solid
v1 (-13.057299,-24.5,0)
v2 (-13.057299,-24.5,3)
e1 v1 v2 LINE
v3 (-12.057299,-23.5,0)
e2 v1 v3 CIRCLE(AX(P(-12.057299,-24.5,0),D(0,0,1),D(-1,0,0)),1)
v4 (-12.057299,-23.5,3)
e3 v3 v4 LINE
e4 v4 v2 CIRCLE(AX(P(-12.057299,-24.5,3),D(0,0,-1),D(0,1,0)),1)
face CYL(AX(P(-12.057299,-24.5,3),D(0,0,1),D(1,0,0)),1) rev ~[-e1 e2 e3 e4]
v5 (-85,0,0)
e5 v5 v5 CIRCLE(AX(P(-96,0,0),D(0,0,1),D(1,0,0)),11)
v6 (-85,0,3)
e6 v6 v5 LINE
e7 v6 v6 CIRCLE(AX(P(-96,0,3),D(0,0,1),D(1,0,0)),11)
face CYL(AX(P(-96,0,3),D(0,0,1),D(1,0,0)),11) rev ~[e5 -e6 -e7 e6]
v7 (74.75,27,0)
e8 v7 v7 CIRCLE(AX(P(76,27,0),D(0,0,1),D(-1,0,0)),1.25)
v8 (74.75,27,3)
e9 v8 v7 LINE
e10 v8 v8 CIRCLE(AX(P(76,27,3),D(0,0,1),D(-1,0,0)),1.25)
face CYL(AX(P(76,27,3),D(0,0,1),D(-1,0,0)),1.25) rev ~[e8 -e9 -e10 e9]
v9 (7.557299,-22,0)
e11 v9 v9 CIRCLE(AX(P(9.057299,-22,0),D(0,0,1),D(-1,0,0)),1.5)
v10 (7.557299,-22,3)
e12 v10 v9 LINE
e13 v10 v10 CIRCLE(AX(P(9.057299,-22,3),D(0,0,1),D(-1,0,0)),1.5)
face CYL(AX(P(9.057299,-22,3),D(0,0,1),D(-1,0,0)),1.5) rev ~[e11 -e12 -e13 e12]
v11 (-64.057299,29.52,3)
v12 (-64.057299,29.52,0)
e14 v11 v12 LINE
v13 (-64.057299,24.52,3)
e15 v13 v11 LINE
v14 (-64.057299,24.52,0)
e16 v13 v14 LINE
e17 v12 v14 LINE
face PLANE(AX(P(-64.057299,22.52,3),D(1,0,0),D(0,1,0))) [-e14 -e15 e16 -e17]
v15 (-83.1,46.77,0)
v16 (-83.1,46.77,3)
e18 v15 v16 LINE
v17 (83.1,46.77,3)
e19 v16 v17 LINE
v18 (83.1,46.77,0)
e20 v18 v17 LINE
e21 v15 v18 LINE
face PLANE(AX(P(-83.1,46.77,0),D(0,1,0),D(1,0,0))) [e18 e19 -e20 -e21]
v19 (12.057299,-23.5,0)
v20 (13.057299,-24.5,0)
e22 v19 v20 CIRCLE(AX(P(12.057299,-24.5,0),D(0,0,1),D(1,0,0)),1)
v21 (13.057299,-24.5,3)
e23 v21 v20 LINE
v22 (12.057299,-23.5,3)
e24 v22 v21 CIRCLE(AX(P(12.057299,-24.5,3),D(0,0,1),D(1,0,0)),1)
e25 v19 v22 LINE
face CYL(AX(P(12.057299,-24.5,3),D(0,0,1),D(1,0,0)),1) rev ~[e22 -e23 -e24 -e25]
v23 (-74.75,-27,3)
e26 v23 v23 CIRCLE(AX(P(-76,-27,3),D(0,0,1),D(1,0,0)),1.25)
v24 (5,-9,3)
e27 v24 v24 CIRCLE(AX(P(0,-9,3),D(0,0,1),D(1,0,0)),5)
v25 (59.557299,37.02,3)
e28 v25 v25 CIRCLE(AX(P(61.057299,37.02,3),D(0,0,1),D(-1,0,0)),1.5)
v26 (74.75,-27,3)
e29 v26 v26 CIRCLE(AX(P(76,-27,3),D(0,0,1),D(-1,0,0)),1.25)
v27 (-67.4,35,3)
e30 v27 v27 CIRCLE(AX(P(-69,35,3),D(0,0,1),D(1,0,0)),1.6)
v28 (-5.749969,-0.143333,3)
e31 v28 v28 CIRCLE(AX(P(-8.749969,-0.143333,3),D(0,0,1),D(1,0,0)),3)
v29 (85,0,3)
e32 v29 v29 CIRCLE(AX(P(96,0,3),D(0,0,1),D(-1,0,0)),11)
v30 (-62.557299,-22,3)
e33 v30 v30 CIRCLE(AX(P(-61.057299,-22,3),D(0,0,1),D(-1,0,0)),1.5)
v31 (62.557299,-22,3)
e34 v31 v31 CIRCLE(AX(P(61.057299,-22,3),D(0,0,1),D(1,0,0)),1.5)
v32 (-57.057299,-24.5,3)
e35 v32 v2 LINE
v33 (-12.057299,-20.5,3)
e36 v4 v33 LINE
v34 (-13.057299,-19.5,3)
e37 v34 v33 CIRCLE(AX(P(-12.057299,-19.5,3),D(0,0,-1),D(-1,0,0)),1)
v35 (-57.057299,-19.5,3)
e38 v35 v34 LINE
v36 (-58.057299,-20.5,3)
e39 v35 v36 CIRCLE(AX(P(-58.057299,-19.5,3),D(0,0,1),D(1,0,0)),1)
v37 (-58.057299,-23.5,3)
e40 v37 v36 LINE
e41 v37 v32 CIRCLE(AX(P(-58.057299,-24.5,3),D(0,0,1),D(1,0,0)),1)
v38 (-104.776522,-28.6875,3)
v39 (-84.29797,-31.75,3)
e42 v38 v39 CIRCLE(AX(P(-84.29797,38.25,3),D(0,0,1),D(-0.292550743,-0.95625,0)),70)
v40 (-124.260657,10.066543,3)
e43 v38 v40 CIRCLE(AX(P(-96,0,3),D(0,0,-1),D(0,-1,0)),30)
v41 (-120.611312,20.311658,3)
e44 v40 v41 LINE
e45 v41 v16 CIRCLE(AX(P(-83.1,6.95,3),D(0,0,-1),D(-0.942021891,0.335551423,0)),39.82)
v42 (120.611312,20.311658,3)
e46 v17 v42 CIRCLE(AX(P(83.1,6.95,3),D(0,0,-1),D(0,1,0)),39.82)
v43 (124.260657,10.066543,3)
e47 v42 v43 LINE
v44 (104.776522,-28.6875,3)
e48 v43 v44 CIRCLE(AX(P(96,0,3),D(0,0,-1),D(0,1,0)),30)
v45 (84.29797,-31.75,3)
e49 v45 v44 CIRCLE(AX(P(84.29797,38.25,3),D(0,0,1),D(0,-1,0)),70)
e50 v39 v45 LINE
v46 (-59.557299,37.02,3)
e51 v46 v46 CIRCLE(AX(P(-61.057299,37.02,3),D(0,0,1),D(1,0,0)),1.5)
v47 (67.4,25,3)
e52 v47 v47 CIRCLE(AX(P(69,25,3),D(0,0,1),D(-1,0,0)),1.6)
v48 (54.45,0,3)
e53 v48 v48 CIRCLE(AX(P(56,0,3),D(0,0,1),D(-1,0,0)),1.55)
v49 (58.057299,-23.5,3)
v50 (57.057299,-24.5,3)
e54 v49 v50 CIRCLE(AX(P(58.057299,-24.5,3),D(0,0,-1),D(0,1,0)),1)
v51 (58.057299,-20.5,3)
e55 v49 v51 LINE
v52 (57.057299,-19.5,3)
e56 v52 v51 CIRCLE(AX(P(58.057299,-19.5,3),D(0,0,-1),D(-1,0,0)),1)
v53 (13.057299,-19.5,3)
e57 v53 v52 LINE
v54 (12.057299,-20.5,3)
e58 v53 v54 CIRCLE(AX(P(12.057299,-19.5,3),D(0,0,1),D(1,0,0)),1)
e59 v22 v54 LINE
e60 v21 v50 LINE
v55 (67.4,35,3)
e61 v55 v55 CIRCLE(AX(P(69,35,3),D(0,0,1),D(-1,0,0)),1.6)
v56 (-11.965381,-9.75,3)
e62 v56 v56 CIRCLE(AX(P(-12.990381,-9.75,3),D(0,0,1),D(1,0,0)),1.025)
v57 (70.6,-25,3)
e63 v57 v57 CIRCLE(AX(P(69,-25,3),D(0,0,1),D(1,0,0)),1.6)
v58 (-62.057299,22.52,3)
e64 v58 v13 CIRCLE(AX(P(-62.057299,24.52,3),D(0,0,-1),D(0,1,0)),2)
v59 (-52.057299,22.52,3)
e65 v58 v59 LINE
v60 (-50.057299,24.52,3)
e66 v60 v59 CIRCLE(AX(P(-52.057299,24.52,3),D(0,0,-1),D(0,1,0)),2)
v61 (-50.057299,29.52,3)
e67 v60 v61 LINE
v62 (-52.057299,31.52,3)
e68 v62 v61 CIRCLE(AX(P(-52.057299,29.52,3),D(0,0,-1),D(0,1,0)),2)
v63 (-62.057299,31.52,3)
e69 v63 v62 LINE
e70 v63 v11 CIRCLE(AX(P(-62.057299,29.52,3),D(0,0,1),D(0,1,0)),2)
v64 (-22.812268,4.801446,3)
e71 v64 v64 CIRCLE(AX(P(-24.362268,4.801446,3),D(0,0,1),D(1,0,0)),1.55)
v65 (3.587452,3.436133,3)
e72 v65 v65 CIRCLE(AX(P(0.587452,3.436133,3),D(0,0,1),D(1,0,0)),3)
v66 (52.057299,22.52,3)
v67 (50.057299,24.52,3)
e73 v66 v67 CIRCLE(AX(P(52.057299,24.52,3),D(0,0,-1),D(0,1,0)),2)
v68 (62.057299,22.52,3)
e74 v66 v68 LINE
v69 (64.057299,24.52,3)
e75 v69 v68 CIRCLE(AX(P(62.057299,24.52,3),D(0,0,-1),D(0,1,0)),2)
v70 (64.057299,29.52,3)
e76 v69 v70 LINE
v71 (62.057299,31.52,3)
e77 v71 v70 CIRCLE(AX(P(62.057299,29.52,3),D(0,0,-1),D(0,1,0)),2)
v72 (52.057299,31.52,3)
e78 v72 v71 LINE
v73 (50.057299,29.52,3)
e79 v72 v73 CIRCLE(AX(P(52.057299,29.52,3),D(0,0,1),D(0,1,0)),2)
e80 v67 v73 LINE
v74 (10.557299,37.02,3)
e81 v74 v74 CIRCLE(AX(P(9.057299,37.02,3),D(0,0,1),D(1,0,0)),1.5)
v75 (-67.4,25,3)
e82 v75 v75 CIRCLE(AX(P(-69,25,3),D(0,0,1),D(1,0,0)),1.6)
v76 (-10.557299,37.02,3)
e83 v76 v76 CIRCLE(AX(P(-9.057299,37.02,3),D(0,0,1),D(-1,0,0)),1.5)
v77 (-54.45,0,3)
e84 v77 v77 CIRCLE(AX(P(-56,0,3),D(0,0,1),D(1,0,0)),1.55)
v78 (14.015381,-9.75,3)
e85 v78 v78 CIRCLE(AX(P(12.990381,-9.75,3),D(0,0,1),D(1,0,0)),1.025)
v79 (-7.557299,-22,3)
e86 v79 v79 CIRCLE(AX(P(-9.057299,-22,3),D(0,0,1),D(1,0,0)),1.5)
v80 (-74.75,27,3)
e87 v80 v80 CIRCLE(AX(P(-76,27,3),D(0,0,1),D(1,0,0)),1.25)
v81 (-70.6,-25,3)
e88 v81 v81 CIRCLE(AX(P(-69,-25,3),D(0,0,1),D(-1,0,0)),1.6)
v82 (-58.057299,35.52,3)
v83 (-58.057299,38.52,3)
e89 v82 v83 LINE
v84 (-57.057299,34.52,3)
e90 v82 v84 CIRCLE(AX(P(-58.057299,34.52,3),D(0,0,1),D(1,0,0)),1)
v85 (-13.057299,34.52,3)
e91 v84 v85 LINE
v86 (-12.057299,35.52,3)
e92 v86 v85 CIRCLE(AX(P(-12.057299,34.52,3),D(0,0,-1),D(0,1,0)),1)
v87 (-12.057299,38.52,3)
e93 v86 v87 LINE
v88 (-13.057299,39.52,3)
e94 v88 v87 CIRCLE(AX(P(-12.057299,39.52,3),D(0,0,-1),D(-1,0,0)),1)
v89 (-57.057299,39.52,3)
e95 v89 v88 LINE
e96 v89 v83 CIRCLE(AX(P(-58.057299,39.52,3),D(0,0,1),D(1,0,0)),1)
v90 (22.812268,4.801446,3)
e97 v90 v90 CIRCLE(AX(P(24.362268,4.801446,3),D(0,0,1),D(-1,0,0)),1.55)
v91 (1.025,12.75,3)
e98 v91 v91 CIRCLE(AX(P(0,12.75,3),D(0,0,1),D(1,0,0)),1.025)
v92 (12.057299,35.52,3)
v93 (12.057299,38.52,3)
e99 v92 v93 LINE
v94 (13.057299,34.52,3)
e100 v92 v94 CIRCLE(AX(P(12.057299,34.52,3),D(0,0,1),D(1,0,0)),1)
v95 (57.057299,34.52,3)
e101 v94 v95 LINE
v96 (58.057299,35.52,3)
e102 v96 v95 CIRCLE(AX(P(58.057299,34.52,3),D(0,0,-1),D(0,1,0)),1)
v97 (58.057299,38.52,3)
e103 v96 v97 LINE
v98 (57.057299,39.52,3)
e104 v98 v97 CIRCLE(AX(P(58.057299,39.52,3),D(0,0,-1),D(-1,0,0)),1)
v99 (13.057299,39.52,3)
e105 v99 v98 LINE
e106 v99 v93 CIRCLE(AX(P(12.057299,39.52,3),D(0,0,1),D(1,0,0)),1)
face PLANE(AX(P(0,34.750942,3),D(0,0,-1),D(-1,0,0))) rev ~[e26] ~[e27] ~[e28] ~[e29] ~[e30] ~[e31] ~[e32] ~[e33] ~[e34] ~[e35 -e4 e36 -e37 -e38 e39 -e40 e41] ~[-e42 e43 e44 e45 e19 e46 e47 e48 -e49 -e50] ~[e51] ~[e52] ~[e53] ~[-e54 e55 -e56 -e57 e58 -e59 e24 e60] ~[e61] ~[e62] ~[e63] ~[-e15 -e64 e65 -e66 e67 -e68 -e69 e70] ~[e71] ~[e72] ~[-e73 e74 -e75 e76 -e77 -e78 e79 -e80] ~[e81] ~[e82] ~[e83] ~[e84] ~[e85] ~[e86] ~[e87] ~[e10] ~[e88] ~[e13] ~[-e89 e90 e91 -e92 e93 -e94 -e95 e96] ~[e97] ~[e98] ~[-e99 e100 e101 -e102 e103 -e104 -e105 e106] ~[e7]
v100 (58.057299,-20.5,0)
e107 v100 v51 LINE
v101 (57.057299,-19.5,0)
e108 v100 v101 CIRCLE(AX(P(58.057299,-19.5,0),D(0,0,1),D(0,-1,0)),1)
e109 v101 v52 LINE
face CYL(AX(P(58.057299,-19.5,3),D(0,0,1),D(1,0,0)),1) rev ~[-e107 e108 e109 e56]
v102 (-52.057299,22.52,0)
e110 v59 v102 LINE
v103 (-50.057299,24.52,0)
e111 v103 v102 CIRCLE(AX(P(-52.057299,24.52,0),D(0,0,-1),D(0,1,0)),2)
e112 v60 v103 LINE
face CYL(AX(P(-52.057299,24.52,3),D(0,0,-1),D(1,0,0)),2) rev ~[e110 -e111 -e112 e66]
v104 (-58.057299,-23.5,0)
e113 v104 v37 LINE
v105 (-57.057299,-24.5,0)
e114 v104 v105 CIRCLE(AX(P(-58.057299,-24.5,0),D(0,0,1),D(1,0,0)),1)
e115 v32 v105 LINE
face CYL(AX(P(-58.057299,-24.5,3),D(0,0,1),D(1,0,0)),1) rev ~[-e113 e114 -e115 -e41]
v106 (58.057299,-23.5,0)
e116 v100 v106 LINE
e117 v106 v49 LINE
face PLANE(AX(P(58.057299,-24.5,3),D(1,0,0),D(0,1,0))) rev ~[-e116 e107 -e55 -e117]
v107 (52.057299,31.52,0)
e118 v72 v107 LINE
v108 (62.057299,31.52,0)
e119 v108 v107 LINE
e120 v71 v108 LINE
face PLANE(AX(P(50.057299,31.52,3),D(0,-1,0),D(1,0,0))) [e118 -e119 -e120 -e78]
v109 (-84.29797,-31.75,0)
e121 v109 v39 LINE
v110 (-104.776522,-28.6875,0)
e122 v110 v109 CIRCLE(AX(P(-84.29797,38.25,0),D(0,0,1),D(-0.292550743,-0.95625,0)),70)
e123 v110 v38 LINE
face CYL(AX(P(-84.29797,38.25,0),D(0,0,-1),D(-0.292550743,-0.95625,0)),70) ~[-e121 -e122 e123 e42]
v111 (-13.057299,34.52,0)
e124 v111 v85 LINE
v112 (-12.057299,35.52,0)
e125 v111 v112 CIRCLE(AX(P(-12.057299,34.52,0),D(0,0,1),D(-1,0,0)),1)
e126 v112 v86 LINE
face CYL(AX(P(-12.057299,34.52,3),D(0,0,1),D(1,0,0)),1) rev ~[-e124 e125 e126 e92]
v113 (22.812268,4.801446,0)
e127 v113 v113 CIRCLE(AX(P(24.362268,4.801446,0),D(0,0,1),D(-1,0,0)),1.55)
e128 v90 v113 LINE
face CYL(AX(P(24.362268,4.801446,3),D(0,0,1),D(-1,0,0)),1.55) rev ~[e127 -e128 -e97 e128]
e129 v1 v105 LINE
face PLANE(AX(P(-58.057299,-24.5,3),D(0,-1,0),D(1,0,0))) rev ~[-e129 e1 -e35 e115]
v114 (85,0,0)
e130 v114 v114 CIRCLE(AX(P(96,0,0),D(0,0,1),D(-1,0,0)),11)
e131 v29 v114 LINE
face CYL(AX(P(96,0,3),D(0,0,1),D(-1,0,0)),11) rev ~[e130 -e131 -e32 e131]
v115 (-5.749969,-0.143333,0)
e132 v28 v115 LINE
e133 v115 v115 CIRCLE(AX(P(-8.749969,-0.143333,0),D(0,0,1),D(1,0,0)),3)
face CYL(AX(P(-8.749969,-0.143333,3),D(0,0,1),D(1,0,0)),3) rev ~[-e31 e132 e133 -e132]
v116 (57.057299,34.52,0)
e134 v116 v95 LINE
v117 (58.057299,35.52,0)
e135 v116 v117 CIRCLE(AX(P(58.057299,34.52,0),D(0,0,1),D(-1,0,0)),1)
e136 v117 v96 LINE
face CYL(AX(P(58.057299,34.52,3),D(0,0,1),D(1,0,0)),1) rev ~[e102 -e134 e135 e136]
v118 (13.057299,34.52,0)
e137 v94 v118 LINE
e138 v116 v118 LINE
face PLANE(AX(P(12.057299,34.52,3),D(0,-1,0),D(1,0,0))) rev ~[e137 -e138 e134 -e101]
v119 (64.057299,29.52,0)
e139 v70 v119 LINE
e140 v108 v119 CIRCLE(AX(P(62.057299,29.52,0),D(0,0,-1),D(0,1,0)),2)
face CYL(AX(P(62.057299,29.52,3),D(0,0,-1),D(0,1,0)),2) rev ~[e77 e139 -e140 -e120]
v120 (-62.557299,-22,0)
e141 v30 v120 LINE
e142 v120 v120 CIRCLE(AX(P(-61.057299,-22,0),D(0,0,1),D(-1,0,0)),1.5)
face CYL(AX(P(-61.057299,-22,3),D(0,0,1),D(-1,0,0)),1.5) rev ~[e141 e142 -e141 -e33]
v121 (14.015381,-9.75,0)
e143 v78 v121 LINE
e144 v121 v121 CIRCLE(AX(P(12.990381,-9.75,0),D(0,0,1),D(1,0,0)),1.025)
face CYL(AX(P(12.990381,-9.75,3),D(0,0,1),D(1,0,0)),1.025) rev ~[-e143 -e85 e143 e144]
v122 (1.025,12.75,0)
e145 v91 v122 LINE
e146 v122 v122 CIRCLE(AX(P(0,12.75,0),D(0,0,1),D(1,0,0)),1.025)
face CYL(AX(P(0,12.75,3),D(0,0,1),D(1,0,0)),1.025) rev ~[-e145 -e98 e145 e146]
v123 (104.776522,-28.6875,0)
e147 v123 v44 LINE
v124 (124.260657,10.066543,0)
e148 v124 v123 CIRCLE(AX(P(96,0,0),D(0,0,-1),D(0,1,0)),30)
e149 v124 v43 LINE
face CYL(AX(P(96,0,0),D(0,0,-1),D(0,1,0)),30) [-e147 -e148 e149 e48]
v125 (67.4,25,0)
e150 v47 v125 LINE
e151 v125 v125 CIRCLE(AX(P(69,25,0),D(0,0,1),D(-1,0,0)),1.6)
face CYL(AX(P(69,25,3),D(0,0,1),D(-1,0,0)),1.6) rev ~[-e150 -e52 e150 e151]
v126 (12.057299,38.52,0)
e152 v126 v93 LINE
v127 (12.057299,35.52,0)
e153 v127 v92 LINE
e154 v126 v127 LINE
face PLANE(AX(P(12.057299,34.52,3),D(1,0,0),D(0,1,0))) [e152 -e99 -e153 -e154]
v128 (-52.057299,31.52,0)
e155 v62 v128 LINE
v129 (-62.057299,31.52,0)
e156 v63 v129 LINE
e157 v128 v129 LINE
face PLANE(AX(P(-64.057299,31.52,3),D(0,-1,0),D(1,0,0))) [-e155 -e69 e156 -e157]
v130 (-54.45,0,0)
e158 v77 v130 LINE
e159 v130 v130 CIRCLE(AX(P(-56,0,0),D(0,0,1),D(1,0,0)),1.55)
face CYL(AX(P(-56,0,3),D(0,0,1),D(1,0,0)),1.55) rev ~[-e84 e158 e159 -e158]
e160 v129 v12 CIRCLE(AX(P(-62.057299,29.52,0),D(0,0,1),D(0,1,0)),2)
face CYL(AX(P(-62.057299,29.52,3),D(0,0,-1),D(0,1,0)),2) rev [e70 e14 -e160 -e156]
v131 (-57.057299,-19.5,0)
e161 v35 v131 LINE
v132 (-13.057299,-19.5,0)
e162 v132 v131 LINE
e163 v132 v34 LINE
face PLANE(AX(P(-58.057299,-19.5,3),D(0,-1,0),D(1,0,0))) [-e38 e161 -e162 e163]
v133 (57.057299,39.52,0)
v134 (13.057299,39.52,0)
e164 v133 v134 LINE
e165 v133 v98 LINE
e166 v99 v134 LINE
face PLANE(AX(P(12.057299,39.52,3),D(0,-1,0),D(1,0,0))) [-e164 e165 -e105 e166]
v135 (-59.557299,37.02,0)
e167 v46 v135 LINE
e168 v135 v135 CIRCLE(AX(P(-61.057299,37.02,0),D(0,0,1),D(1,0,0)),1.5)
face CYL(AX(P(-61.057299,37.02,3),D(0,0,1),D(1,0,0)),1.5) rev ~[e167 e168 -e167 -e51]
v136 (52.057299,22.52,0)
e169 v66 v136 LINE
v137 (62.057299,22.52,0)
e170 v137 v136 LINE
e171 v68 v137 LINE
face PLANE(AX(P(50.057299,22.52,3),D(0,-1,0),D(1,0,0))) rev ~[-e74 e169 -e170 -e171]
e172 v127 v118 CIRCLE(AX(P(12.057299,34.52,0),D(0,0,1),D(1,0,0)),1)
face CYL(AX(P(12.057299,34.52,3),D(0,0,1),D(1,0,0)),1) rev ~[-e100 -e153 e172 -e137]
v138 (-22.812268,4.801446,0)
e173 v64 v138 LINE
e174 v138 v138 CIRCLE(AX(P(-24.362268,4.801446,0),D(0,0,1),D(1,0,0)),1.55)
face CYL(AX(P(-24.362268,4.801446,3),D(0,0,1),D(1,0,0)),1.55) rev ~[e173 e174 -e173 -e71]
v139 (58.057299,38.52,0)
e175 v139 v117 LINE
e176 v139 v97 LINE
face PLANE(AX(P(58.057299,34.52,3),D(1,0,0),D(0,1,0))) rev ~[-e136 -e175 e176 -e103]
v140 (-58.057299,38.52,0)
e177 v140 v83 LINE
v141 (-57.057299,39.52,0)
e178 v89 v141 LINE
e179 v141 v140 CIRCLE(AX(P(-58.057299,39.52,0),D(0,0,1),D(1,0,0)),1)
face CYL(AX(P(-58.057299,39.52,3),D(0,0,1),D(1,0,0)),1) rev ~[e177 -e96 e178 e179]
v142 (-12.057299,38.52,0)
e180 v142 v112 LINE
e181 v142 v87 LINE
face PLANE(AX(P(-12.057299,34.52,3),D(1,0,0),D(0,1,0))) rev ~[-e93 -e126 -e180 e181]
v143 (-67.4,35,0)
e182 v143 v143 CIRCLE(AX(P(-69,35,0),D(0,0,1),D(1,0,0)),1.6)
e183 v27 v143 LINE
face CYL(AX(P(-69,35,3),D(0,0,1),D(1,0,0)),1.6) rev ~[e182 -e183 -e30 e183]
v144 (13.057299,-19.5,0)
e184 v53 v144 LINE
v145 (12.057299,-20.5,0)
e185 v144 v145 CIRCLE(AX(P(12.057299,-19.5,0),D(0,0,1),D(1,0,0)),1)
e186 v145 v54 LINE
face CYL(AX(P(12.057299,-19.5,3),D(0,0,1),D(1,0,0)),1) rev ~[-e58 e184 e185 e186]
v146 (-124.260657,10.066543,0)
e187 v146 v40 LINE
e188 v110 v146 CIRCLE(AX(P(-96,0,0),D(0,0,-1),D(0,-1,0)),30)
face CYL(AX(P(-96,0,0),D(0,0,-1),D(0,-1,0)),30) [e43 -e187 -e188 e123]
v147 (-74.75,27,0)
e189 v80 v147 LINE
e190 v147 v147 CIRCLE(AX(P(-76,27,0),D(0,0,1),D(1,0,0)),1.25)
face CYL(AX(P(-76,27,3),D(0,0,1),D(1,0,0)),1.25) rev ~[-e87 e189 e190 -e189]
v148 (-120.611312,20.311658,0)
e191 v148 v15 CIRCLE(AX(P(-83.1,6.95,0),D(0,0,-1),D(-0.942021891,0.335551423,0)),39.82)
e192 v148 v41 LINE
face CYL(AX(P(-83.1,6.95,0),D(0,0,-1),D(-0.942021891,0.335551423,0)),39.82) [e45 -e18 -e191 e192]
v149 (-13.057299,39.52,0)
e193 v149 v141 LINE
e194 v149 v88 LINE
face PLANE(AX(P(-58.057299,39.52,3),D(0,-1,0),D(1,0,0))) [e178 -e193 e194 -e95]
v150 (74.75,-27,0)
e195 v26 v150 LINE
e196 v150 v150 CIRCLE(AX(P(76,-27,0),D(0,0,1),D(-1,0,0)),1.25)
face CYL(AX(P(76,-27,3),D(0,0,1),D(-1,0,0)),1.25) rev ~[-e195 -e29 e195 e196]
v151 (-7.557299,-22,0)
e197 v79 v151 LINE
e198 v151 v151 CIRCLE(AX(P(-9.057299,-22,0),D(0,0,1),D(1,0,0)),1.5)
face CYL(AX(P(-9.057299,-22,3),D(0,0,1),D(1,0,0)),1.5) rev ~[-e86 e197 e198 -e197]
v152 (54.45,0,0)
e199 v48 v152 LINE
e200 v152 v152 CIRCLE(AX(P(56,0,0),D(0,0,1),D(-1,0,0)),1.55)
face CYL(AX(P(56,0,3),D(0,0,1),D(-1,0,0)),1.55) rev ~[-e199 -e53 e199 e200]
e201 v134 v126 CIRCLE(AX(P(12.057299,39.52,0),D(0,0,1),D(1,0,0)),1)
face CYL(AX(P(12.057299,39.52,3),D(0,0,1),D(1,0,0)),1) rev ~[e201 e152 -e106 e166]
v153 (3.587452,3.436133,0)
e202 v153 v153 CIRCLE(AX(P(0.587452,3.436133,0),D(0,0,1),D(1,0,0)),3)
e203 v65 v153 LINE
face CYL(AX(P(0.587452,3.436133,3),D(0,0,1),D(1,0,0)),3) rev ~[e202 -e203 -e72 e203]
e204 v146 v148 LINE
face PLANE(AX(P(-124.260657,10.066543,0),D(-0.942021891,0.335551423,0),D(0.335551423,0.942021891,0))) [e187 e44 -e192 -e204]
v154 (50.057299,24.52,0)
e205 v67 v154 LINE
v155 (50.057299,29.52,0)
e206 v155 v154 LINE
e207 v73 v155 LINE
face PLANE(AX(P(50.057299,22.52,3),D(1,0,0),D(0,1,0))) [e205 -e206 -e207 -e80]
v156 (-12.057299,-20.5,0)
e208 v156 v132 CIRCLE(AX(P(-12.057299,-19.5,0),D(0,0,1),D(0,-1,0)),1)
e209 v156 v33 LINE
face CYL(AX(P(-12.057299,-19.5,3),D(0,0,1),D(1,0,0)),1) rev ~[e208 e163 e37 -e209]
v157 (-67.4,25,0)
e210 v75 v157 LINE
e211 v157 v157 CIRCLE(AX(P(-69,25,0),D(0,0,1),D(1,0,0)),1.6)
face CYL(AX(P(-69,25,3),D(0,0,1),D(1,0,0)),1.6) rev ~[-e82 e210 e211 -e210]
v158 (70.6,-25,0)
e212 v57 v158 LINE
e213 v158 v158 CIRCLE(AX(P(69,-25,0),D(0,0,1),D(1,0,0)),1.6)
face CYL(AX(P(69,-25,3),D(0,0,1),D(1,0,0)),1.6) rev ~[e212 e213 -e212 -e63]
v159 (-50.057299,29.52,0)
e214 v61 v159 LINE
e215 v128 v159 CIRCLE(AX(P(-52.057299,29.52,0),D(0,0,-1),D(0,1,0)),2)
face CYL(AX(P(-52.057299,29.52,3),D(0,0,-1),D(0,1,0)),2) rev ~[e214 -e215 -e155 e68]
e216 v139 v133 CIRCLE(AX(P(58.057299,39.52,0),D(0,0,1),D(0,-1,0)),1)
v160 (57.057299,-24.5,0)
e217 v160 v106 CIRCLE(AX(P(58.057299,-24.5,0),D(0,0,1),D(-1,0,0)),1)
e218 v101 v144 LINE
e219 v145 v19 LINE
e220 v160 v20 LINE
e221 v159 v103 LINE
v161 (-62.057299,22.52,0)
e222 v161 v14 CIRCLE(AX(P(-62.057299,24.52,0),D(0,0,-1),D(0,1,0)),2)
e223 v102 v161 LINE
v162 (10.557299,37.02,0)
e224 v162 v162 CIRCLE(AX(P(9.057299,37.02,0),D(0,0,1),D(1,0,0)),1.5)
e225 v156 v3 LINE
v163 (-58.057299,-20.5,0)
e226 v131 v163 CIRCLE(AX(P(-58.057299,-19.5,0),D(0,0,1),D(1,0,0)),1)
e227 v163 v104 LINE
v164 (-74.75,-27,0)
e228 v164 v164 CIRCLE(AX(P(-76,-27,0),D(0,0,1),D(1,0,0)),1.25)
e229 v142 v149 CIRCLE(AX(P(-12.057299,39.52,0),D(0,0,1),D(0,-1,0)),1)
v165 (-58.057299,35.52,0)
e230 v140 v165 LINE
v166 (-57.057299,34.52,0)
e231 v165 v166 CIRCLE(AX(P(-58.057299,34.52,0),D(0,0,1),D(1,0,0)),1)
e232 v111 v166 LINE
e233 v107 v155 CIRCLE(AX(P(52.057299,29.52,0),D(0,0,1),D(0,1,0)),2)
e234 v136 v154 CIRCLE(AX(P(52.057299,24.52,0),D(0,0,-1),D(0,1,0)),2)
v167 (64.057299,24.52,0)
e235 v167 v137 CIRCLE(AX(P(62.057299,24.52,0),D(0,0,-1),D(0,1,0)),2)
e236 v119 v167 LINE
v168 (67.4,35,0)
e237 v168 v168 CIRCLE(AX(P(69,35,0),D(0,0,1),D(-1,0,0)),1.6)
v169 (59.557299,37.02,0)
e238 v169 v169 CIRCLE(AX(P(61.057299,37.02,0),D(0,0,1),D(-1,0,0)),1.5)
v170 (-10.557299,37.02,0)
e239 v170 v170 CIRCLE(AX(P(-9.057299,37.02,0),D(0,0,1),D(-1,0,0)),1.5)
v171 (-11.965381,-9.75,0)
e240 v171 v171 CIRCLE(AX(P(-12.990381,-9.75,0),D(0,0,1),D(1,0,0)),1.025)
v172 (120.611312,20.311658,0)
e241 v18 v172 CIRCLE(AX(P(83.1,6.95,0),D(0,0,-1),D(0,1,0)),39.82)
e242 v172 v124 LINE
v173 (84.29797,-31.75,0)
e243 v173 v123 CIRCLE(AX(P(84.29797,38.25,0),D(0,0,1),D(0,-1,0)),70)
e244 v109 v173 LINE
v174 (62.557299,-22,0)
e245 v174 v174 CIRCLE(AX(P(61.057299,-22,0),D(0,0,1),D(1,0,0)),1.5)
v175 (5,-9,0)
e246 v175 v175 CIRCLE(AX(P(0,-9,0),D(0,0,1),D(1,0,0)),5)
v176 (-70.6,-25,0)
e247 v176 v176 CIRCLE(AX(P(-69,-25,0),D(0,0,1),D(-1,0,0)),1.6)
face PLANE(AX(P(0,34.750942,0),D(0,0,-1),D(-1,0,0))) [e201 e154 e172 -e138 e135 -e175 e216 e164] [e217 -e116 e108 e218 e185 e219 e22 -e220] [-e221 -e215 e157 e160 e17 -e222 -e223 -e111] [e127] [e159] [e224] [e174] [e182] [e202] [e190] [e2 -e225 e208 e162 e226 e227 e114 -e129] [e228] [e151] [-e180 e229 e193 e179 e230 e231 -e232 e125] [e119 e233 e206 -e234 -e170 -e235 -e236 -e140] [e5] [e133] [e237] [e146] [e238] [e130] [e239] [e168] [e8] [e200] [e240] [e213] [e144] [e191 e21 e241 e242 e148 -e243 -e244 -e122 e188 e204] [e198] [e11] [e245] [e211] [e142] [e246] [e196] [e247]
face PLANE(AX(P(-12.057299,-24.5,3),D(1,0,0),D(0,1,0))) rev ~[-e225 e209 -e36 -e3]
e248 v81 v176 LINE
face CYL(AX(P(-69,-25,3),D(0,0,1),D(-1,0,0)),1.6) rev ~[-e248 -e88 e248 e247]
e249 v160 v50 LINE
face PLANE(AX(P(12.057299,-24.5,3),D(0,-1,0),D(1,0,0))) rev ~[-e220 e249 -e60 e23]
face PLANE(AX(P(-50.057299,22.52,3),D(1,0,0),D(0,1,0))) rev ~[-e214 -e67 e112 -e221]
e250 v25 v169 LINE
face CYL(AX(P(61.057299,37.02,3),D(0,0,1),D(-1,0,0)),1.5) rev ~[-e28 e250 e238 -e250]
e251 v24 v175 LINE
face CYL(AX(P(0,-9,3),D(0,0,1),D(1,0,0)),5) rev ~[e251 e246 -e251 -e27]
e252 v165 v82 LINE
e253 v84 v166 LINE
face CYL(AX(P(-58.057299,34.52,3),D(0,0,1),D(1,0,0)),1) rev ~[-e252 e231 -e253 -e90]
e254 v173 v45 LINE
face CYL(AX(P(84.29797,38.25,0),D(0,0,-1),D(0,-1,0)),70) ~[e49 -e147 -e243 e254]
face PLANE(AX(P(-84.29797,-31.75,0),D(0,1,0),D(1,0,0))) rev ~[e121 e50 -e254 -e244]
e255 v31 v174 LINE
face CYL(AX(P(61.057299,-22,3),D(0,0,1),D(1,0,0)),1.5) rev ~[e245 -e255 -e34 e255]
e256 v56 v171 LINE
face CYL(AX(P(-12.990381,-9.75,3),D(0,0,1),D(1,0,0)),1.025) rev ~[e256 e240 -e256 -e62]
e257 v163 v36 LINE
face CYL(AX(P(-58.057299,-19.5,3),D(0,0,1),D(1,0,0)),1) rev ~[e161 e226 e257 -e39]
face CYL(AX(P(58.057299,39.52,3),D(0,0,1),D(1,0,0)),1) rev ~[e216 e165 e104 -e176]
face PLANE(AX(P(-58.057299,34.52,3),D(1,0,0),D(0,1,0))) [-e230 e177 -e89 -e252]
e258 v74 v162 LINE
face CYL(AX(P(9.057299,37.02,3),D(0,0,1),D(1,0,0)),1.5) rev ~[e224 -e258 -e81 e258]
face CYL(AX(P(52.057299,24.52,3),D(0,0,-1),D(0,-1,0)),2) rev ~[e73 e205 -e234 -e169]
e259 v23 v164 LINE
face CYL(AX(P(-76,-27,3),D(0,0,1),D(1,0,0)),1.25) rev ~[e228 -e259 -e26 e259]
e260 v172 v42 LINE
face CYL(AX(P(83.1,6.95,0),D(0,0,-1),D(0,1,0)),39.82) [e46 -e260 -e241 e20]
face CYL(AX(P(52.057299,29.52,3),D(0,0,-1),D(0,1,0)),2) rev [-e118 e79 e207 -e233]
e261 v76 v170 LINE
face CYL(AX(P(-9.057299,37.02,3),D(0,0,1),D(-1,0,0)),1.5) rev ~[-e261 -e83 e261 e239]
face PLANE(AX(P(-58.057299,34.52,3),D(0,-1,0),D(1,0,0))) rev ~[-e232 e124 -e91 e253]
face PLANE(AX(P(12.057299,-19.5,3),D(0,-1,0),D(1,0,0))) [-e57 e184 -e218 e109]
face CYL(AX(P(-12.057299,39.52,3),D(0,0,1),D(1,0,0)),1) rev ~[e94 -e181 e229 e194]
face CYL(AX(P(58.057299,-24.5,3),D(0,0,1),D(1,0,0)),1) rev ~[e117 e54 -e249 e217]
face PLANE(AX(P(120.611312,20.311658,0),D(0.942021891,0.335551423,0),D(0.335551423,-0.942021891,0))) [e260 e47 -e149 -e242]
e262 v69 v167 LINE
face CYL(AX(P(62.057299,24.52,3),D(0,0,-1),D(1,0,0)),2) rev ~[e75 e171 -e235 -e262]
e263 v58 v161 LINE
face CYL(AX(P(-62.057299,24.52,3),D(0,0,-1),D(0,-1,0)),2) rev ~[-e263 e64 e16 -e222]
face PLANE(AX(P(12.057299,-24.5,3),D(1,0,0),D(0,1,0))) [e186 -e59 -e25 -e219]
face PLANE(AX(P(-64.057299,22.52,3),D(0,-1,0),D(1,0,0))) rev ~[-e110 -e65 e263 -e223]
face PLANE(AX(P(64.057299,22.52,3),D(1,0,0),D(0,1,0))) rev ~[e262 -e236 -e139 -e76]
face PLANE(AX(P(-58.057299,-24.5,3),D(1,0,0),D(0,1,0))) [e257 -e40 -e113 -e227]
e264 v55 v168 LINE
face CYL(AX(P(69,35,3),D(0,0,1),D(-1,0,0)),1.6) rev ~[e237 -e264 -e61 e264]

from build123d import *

# Parameters (mm, degrees)
EXTRUDE_1_DEPTH     = 3
SKETCH_2_R          = 1.55
SKETCH_2_R_2        = 11
SKETCH_2_R_3        = 1.25
SKETCH_2_R_4        = 5
SKETCH_2_R_5        = 1.6
CUT_EXTRUDE_1_DEPTH = 130.55693729
EXTRUDE_START       = -3
EXTRUDE_2_DEPTH     = 3
SKETCH_3_R          = 1.5
SKETCH_3_R_2        = 1.6
SKETCH_3_W          = 46
SKETCH_3_H          = 5
CUT_EXTRUDE_2_DEPTH = 135.433749111
SKETCH_5_R          = 1
CUT_EXTRUDE_3_DEPTH = 135.433749111
SKETCH_6_R          = 3
SKETCH_6_R_2        = 1.025
CUT_EXTRUDE_4_DEPTH = 135.433749111
SKETCH_7_W          = 14
SKETCH_7_H          = 9
CUT_EXTRUDE_5_DEPTH = 135.433749111
FILLET_1_R          = 2


with BuildPart() as part:
    # ｽｹｯﾁ1 → ﾎﾞｽ - 押し出し1 (new body)
    with BuildSketch(Plane.XY):
        with BuildLine():
            Line((-96, 30), (96, 30))
            ThreePointArc((96, 30), (126, 0), (96, -30))
            Line((96, -30), (-96, -30))
            ThreePointArc((-96, -30), (-126, 0), (-96, 30))
        make_face()
    extrude(amount=EXTRUDE_1_DEPTH)

    # ｽｹｯﾁ2 → ｶｯﾄ - 押し出し1 (cut, through all)
    with BuildSketch(Plane.XY.offset(3)):
        with Locations((-24.362267564, 4.80144627)):
            Circle(SKETCH_2_R)
        with Locations((-56, 0)):
            Circle(SKETCH_2_R)
        with Locations((-96, 0)):
            Circle(SKETCH_2_R_2)
        with Locations(Location((24.362267564, 4.80144627, 0), (0, 0, 180))):
            Circle(SKETCH_2_R)
        with Locations(Location((56, 0, 0), (0, 0, 180))):
            Circle(SKETCH_2_R)
        with Locations(Location((96, 0, 0), (0, 0, 180))):
            Circle(SKETCH_2_R_2)
        with Locations((-76, 27)):
            Circle(SKETCH_2_R_3)
        with Locations((-76, -27)):
            Circle(SKETCH_2_R_3)
        with Locations(Location((76, 27, 0), (0, 0, 180))):
            Circle(SKETCH_2_R_3)
        with Locations(Location((76, -27, 0), (0, 0, 180))):
            Circle(SKETCH_2_R_3)
        with Locations((0, -9)):
            Circle(SKETCH_2_R_4)
        with Locations((-69, 25)):
            Circle(SKETCH_2_R_5)
        with Locations(Location((-69, -25, 0), (0, 0, 180))):
            Circle(SKETCH_2_R_5)
        with Locations((69, -25)):
            Circle(SKETCH_2_R_5)
        with Locations(Location((69, 25, 0), (0, 0, 180))):
            Circle(SKETCH_2_R_5)
    extrude(amount=-CUT_EXTRUDE_1_DEPTH, mode=Mode.SUBTRACT)

    # ｽｹｯﾁ4 → ﾎﾞｽ - 押し出し2 (add)
    with BuildSketch(Plane.XY.offset(3).offset(EXTRUDE_START)):
        with BuildLine():
            Line((-124.26065672, 10.06654269), (-120.611311687, 20.311657664))
            ThreePointArc((-120.611311687, 20.311657664), (-106.051810297, 39.489926307), (-83.1, 46.77))
            Line((-83.1, 46.77), (83.1, 46.77))
            ThreePointArc((83.1, 46.77), (106.051810297, 39.489926307), (120.611311687, 20.311657664))
            Line((120.611311687, 20.311657664), (124.26065672, 10.06654269))
            ThreePointArc((124.26065672, 10.06654269), (113.291670239, 24.515263416), (96, 30))
            Line((96, 30), (-96, 30))
            ThreePointArc((-96, 30), (-113.291670239, 24.515263416), (-124.26065672, 10.06654269))
        make_face()
        with BuildLine():
            Line((-84.297970262, -31.75), (84.297970262, -31.75))
            ThreePointArc((84.297970262, -31.75), (94.651109882, -30.980141557), (104.776522304, -28.6875))
            ThreePointArc((104.776522304, -28.6875), (100.437059837, -29.670060667), (96, -30))
            Line((96, -30), (-96, -30))
            ThreePointArc((-96, -30), (-100.437059837, -29.670060667), (-104.776522304, -28.6875))
            ThreePointArc((-104.776522304, -28.6875), (-94.651109882, -30.980141557), (-84.297970262, -31.75))
        make_face()
    extrude(amount=EXTRUDE_2_DEPTH)

    # ｽｹｯﾁ3 → ｶｯﾄ - 押し出し2 (cut, through all)
    with BuildSketch(Plane.XY.offset(3)):
        with Locations((-61.057299255, 37.02)):
            Circle(SKETCH_3_R)
        with Locations(Location((-9.057299255, 37.02, 0), (0, 0, 180))):
            Circle(SKETCH_3_R)
        with Locations((9.057299255, 37.02)):
            Circle(SKETCH_3_R)
        with Locations(Location((61.057299255, 37.02, 0), (0, 0, 180))):
            Circle(SKETCH_3_R)
        with Locations((-69, 35)):
            Circle(SKETCH_3_R_2)
        with Locations((61.057299255, -22)):
            Circle(SKETCH_3_R)
        with Locations(Location((9.057299255, -22, 0), (0, 0, 180))):
            Circle(SKETCH_3_R)
        with Locations((-9.057299255, -22)):
            Circle(SKETCH_3_R)
        with Locations(Location((-61.057299255, -22, 0), (0, 0, 180))):
            Circle(SKETCH_3_R)
        with Locations(Location((69, 35, 0), (0, 0, 180))):
            Circle(SKETCH_3_R_2)
        with Locations((-35.057299255, 37.02)):
            Rectangle(SKETCH_3_W, SKETCH_3_H)
        with Locations((35.057299255, 37.02)):
            Rectangle(SKETCH_3_W, SKETCH_3_H)
        with Locations((35.057299255, -22)):
            Rectangle(SKETCH_3_W, SKETCH_3_H)
        with Locations((-35.057299255, -22)):
            Rectangle(SKETCH_3_W, SKETCH_3_H)
    extrude(amount=-CUT_EXTRUDE_2_DEPTH, mode=Mode.SUBTRACT)

    # ｽｹｯﾁ5 → ｶｯﾄ - 押し出し3 (cut, through all)
    with BuildSketch(Plane.XY.offset(3)):
        with Locations((-58.057299255, 39.52)):
            Circle(SKETCH_5_R)
        with Locations((-58.057299255, 34.52)):
            Circle(SKETCH_5_R)
        with Locations((-12.057299255, 39.52)):
            Circle(SKETCH_5_R)
        with Locations((-12.057299255, 34.52)):
            Circle(SKETCH_5_R)
        with Locations((-12.057299255, -19.5)):
            Circle(SKETCH_5_R)
        with Locations((-12.057299255, -24.5)):
            Circle(SKETCH_5_R)
        with Locations((-58.057299255, -19.5)):
            Circle(SKETCH_5_R)
        with Locations((-58.057299255, -24.5)):
            Circle(SKETCH_5_R)
        with Locations((58.057299255, -24.5)):
            Circle(SKETCH_5_R)
        with Locations((58.057299255, -19.5)):
            Circle(SKETCH_5_R)
        with Locations((12.057299255, -24.5)):
            Circle(SKETCH_5_R)
        with Locations((12.057299255, -19.5)):
            Circle(SKETCH_5_R)
        with Locations((12.057299255, 34.52)):
            Circle(SKETCH_5_R)
        with Locations((12.057299255, 39.52)):
            Circle(SKETCH_5_R)
        with Locations((58.057299255, 34.52)):
            Circle(SKETCH_5_R)
        with Locations((58.057299255, 39.52)):
            Circle(SKETCH_5_R)
    extrude(amount=-CUT_EXTRUDE_3_DEPTH, mode=Mode.SUBTRACT)

    # ｽｹｯﾁ6 → ｶｯﾄ - 押し出し4 (cut, through all)
    with BuildSketch(Plane.XY.offset(3)):
        with Locations((-8.749968889, -0.143333333)):
            Circle(SKETCH_6_R)
        with Locations((0.587451619, 3.436132863)):
            Circle(SKETCH_6_R)
        with Locations((-12.990381057, -9.75)):
            Circle(SKETCH_6_R_2)
        with Locations((0, 12.75)):
            Circle(SKETCH_6_R_2)
        with Locations((12.990381057, -9.75)):
            Circle(SKETCH_6_R_2)
    extrude(amount=-CUT_EXTRUDE_4_DEPTH, mode=Mode.SUBTRACT)

    # ｽｹｯﾁ7 → ｶｯﾄ - 押し出し5 (cut, through all)
    with BuildSketch(Plane.XY.offset(3)):
        with Locations((-57.057299255, 27.02)):
            Rectangle(SKETCH_7_W, SKETCH_7_H)
        with Locations((57.057299255, 27.02)):
            Rectangle(SKETCH_7_W, SKETCH_7_H)
    extrude(amount=-CUT_EXTRUDE_5_DEPTH, mode=Mode.SUBTRACT)

    # ﾌｨﾚｯﾄ1
    fillet_1_edges = [part.edges().sort_by_distance(p)[0] for p in [
        (-64.057299255, 22.52, 1.5),
        (-64.057299255, 31.52, 1.5),
        (-50.057299255, 31.52, 1.5),
        (-50.057299255, 22.52, 1.5),
        (50.057299255, 22.52, 1.5),
        (50.057299255, 31.52, 1.5),
        (64.057299255, 31.52, 1.5),
        (64.057299255, 22.52, 1.5),
    ]]
    fillet(fillet_1_edges, radius=FILLET_1_R)


solid = part.part
